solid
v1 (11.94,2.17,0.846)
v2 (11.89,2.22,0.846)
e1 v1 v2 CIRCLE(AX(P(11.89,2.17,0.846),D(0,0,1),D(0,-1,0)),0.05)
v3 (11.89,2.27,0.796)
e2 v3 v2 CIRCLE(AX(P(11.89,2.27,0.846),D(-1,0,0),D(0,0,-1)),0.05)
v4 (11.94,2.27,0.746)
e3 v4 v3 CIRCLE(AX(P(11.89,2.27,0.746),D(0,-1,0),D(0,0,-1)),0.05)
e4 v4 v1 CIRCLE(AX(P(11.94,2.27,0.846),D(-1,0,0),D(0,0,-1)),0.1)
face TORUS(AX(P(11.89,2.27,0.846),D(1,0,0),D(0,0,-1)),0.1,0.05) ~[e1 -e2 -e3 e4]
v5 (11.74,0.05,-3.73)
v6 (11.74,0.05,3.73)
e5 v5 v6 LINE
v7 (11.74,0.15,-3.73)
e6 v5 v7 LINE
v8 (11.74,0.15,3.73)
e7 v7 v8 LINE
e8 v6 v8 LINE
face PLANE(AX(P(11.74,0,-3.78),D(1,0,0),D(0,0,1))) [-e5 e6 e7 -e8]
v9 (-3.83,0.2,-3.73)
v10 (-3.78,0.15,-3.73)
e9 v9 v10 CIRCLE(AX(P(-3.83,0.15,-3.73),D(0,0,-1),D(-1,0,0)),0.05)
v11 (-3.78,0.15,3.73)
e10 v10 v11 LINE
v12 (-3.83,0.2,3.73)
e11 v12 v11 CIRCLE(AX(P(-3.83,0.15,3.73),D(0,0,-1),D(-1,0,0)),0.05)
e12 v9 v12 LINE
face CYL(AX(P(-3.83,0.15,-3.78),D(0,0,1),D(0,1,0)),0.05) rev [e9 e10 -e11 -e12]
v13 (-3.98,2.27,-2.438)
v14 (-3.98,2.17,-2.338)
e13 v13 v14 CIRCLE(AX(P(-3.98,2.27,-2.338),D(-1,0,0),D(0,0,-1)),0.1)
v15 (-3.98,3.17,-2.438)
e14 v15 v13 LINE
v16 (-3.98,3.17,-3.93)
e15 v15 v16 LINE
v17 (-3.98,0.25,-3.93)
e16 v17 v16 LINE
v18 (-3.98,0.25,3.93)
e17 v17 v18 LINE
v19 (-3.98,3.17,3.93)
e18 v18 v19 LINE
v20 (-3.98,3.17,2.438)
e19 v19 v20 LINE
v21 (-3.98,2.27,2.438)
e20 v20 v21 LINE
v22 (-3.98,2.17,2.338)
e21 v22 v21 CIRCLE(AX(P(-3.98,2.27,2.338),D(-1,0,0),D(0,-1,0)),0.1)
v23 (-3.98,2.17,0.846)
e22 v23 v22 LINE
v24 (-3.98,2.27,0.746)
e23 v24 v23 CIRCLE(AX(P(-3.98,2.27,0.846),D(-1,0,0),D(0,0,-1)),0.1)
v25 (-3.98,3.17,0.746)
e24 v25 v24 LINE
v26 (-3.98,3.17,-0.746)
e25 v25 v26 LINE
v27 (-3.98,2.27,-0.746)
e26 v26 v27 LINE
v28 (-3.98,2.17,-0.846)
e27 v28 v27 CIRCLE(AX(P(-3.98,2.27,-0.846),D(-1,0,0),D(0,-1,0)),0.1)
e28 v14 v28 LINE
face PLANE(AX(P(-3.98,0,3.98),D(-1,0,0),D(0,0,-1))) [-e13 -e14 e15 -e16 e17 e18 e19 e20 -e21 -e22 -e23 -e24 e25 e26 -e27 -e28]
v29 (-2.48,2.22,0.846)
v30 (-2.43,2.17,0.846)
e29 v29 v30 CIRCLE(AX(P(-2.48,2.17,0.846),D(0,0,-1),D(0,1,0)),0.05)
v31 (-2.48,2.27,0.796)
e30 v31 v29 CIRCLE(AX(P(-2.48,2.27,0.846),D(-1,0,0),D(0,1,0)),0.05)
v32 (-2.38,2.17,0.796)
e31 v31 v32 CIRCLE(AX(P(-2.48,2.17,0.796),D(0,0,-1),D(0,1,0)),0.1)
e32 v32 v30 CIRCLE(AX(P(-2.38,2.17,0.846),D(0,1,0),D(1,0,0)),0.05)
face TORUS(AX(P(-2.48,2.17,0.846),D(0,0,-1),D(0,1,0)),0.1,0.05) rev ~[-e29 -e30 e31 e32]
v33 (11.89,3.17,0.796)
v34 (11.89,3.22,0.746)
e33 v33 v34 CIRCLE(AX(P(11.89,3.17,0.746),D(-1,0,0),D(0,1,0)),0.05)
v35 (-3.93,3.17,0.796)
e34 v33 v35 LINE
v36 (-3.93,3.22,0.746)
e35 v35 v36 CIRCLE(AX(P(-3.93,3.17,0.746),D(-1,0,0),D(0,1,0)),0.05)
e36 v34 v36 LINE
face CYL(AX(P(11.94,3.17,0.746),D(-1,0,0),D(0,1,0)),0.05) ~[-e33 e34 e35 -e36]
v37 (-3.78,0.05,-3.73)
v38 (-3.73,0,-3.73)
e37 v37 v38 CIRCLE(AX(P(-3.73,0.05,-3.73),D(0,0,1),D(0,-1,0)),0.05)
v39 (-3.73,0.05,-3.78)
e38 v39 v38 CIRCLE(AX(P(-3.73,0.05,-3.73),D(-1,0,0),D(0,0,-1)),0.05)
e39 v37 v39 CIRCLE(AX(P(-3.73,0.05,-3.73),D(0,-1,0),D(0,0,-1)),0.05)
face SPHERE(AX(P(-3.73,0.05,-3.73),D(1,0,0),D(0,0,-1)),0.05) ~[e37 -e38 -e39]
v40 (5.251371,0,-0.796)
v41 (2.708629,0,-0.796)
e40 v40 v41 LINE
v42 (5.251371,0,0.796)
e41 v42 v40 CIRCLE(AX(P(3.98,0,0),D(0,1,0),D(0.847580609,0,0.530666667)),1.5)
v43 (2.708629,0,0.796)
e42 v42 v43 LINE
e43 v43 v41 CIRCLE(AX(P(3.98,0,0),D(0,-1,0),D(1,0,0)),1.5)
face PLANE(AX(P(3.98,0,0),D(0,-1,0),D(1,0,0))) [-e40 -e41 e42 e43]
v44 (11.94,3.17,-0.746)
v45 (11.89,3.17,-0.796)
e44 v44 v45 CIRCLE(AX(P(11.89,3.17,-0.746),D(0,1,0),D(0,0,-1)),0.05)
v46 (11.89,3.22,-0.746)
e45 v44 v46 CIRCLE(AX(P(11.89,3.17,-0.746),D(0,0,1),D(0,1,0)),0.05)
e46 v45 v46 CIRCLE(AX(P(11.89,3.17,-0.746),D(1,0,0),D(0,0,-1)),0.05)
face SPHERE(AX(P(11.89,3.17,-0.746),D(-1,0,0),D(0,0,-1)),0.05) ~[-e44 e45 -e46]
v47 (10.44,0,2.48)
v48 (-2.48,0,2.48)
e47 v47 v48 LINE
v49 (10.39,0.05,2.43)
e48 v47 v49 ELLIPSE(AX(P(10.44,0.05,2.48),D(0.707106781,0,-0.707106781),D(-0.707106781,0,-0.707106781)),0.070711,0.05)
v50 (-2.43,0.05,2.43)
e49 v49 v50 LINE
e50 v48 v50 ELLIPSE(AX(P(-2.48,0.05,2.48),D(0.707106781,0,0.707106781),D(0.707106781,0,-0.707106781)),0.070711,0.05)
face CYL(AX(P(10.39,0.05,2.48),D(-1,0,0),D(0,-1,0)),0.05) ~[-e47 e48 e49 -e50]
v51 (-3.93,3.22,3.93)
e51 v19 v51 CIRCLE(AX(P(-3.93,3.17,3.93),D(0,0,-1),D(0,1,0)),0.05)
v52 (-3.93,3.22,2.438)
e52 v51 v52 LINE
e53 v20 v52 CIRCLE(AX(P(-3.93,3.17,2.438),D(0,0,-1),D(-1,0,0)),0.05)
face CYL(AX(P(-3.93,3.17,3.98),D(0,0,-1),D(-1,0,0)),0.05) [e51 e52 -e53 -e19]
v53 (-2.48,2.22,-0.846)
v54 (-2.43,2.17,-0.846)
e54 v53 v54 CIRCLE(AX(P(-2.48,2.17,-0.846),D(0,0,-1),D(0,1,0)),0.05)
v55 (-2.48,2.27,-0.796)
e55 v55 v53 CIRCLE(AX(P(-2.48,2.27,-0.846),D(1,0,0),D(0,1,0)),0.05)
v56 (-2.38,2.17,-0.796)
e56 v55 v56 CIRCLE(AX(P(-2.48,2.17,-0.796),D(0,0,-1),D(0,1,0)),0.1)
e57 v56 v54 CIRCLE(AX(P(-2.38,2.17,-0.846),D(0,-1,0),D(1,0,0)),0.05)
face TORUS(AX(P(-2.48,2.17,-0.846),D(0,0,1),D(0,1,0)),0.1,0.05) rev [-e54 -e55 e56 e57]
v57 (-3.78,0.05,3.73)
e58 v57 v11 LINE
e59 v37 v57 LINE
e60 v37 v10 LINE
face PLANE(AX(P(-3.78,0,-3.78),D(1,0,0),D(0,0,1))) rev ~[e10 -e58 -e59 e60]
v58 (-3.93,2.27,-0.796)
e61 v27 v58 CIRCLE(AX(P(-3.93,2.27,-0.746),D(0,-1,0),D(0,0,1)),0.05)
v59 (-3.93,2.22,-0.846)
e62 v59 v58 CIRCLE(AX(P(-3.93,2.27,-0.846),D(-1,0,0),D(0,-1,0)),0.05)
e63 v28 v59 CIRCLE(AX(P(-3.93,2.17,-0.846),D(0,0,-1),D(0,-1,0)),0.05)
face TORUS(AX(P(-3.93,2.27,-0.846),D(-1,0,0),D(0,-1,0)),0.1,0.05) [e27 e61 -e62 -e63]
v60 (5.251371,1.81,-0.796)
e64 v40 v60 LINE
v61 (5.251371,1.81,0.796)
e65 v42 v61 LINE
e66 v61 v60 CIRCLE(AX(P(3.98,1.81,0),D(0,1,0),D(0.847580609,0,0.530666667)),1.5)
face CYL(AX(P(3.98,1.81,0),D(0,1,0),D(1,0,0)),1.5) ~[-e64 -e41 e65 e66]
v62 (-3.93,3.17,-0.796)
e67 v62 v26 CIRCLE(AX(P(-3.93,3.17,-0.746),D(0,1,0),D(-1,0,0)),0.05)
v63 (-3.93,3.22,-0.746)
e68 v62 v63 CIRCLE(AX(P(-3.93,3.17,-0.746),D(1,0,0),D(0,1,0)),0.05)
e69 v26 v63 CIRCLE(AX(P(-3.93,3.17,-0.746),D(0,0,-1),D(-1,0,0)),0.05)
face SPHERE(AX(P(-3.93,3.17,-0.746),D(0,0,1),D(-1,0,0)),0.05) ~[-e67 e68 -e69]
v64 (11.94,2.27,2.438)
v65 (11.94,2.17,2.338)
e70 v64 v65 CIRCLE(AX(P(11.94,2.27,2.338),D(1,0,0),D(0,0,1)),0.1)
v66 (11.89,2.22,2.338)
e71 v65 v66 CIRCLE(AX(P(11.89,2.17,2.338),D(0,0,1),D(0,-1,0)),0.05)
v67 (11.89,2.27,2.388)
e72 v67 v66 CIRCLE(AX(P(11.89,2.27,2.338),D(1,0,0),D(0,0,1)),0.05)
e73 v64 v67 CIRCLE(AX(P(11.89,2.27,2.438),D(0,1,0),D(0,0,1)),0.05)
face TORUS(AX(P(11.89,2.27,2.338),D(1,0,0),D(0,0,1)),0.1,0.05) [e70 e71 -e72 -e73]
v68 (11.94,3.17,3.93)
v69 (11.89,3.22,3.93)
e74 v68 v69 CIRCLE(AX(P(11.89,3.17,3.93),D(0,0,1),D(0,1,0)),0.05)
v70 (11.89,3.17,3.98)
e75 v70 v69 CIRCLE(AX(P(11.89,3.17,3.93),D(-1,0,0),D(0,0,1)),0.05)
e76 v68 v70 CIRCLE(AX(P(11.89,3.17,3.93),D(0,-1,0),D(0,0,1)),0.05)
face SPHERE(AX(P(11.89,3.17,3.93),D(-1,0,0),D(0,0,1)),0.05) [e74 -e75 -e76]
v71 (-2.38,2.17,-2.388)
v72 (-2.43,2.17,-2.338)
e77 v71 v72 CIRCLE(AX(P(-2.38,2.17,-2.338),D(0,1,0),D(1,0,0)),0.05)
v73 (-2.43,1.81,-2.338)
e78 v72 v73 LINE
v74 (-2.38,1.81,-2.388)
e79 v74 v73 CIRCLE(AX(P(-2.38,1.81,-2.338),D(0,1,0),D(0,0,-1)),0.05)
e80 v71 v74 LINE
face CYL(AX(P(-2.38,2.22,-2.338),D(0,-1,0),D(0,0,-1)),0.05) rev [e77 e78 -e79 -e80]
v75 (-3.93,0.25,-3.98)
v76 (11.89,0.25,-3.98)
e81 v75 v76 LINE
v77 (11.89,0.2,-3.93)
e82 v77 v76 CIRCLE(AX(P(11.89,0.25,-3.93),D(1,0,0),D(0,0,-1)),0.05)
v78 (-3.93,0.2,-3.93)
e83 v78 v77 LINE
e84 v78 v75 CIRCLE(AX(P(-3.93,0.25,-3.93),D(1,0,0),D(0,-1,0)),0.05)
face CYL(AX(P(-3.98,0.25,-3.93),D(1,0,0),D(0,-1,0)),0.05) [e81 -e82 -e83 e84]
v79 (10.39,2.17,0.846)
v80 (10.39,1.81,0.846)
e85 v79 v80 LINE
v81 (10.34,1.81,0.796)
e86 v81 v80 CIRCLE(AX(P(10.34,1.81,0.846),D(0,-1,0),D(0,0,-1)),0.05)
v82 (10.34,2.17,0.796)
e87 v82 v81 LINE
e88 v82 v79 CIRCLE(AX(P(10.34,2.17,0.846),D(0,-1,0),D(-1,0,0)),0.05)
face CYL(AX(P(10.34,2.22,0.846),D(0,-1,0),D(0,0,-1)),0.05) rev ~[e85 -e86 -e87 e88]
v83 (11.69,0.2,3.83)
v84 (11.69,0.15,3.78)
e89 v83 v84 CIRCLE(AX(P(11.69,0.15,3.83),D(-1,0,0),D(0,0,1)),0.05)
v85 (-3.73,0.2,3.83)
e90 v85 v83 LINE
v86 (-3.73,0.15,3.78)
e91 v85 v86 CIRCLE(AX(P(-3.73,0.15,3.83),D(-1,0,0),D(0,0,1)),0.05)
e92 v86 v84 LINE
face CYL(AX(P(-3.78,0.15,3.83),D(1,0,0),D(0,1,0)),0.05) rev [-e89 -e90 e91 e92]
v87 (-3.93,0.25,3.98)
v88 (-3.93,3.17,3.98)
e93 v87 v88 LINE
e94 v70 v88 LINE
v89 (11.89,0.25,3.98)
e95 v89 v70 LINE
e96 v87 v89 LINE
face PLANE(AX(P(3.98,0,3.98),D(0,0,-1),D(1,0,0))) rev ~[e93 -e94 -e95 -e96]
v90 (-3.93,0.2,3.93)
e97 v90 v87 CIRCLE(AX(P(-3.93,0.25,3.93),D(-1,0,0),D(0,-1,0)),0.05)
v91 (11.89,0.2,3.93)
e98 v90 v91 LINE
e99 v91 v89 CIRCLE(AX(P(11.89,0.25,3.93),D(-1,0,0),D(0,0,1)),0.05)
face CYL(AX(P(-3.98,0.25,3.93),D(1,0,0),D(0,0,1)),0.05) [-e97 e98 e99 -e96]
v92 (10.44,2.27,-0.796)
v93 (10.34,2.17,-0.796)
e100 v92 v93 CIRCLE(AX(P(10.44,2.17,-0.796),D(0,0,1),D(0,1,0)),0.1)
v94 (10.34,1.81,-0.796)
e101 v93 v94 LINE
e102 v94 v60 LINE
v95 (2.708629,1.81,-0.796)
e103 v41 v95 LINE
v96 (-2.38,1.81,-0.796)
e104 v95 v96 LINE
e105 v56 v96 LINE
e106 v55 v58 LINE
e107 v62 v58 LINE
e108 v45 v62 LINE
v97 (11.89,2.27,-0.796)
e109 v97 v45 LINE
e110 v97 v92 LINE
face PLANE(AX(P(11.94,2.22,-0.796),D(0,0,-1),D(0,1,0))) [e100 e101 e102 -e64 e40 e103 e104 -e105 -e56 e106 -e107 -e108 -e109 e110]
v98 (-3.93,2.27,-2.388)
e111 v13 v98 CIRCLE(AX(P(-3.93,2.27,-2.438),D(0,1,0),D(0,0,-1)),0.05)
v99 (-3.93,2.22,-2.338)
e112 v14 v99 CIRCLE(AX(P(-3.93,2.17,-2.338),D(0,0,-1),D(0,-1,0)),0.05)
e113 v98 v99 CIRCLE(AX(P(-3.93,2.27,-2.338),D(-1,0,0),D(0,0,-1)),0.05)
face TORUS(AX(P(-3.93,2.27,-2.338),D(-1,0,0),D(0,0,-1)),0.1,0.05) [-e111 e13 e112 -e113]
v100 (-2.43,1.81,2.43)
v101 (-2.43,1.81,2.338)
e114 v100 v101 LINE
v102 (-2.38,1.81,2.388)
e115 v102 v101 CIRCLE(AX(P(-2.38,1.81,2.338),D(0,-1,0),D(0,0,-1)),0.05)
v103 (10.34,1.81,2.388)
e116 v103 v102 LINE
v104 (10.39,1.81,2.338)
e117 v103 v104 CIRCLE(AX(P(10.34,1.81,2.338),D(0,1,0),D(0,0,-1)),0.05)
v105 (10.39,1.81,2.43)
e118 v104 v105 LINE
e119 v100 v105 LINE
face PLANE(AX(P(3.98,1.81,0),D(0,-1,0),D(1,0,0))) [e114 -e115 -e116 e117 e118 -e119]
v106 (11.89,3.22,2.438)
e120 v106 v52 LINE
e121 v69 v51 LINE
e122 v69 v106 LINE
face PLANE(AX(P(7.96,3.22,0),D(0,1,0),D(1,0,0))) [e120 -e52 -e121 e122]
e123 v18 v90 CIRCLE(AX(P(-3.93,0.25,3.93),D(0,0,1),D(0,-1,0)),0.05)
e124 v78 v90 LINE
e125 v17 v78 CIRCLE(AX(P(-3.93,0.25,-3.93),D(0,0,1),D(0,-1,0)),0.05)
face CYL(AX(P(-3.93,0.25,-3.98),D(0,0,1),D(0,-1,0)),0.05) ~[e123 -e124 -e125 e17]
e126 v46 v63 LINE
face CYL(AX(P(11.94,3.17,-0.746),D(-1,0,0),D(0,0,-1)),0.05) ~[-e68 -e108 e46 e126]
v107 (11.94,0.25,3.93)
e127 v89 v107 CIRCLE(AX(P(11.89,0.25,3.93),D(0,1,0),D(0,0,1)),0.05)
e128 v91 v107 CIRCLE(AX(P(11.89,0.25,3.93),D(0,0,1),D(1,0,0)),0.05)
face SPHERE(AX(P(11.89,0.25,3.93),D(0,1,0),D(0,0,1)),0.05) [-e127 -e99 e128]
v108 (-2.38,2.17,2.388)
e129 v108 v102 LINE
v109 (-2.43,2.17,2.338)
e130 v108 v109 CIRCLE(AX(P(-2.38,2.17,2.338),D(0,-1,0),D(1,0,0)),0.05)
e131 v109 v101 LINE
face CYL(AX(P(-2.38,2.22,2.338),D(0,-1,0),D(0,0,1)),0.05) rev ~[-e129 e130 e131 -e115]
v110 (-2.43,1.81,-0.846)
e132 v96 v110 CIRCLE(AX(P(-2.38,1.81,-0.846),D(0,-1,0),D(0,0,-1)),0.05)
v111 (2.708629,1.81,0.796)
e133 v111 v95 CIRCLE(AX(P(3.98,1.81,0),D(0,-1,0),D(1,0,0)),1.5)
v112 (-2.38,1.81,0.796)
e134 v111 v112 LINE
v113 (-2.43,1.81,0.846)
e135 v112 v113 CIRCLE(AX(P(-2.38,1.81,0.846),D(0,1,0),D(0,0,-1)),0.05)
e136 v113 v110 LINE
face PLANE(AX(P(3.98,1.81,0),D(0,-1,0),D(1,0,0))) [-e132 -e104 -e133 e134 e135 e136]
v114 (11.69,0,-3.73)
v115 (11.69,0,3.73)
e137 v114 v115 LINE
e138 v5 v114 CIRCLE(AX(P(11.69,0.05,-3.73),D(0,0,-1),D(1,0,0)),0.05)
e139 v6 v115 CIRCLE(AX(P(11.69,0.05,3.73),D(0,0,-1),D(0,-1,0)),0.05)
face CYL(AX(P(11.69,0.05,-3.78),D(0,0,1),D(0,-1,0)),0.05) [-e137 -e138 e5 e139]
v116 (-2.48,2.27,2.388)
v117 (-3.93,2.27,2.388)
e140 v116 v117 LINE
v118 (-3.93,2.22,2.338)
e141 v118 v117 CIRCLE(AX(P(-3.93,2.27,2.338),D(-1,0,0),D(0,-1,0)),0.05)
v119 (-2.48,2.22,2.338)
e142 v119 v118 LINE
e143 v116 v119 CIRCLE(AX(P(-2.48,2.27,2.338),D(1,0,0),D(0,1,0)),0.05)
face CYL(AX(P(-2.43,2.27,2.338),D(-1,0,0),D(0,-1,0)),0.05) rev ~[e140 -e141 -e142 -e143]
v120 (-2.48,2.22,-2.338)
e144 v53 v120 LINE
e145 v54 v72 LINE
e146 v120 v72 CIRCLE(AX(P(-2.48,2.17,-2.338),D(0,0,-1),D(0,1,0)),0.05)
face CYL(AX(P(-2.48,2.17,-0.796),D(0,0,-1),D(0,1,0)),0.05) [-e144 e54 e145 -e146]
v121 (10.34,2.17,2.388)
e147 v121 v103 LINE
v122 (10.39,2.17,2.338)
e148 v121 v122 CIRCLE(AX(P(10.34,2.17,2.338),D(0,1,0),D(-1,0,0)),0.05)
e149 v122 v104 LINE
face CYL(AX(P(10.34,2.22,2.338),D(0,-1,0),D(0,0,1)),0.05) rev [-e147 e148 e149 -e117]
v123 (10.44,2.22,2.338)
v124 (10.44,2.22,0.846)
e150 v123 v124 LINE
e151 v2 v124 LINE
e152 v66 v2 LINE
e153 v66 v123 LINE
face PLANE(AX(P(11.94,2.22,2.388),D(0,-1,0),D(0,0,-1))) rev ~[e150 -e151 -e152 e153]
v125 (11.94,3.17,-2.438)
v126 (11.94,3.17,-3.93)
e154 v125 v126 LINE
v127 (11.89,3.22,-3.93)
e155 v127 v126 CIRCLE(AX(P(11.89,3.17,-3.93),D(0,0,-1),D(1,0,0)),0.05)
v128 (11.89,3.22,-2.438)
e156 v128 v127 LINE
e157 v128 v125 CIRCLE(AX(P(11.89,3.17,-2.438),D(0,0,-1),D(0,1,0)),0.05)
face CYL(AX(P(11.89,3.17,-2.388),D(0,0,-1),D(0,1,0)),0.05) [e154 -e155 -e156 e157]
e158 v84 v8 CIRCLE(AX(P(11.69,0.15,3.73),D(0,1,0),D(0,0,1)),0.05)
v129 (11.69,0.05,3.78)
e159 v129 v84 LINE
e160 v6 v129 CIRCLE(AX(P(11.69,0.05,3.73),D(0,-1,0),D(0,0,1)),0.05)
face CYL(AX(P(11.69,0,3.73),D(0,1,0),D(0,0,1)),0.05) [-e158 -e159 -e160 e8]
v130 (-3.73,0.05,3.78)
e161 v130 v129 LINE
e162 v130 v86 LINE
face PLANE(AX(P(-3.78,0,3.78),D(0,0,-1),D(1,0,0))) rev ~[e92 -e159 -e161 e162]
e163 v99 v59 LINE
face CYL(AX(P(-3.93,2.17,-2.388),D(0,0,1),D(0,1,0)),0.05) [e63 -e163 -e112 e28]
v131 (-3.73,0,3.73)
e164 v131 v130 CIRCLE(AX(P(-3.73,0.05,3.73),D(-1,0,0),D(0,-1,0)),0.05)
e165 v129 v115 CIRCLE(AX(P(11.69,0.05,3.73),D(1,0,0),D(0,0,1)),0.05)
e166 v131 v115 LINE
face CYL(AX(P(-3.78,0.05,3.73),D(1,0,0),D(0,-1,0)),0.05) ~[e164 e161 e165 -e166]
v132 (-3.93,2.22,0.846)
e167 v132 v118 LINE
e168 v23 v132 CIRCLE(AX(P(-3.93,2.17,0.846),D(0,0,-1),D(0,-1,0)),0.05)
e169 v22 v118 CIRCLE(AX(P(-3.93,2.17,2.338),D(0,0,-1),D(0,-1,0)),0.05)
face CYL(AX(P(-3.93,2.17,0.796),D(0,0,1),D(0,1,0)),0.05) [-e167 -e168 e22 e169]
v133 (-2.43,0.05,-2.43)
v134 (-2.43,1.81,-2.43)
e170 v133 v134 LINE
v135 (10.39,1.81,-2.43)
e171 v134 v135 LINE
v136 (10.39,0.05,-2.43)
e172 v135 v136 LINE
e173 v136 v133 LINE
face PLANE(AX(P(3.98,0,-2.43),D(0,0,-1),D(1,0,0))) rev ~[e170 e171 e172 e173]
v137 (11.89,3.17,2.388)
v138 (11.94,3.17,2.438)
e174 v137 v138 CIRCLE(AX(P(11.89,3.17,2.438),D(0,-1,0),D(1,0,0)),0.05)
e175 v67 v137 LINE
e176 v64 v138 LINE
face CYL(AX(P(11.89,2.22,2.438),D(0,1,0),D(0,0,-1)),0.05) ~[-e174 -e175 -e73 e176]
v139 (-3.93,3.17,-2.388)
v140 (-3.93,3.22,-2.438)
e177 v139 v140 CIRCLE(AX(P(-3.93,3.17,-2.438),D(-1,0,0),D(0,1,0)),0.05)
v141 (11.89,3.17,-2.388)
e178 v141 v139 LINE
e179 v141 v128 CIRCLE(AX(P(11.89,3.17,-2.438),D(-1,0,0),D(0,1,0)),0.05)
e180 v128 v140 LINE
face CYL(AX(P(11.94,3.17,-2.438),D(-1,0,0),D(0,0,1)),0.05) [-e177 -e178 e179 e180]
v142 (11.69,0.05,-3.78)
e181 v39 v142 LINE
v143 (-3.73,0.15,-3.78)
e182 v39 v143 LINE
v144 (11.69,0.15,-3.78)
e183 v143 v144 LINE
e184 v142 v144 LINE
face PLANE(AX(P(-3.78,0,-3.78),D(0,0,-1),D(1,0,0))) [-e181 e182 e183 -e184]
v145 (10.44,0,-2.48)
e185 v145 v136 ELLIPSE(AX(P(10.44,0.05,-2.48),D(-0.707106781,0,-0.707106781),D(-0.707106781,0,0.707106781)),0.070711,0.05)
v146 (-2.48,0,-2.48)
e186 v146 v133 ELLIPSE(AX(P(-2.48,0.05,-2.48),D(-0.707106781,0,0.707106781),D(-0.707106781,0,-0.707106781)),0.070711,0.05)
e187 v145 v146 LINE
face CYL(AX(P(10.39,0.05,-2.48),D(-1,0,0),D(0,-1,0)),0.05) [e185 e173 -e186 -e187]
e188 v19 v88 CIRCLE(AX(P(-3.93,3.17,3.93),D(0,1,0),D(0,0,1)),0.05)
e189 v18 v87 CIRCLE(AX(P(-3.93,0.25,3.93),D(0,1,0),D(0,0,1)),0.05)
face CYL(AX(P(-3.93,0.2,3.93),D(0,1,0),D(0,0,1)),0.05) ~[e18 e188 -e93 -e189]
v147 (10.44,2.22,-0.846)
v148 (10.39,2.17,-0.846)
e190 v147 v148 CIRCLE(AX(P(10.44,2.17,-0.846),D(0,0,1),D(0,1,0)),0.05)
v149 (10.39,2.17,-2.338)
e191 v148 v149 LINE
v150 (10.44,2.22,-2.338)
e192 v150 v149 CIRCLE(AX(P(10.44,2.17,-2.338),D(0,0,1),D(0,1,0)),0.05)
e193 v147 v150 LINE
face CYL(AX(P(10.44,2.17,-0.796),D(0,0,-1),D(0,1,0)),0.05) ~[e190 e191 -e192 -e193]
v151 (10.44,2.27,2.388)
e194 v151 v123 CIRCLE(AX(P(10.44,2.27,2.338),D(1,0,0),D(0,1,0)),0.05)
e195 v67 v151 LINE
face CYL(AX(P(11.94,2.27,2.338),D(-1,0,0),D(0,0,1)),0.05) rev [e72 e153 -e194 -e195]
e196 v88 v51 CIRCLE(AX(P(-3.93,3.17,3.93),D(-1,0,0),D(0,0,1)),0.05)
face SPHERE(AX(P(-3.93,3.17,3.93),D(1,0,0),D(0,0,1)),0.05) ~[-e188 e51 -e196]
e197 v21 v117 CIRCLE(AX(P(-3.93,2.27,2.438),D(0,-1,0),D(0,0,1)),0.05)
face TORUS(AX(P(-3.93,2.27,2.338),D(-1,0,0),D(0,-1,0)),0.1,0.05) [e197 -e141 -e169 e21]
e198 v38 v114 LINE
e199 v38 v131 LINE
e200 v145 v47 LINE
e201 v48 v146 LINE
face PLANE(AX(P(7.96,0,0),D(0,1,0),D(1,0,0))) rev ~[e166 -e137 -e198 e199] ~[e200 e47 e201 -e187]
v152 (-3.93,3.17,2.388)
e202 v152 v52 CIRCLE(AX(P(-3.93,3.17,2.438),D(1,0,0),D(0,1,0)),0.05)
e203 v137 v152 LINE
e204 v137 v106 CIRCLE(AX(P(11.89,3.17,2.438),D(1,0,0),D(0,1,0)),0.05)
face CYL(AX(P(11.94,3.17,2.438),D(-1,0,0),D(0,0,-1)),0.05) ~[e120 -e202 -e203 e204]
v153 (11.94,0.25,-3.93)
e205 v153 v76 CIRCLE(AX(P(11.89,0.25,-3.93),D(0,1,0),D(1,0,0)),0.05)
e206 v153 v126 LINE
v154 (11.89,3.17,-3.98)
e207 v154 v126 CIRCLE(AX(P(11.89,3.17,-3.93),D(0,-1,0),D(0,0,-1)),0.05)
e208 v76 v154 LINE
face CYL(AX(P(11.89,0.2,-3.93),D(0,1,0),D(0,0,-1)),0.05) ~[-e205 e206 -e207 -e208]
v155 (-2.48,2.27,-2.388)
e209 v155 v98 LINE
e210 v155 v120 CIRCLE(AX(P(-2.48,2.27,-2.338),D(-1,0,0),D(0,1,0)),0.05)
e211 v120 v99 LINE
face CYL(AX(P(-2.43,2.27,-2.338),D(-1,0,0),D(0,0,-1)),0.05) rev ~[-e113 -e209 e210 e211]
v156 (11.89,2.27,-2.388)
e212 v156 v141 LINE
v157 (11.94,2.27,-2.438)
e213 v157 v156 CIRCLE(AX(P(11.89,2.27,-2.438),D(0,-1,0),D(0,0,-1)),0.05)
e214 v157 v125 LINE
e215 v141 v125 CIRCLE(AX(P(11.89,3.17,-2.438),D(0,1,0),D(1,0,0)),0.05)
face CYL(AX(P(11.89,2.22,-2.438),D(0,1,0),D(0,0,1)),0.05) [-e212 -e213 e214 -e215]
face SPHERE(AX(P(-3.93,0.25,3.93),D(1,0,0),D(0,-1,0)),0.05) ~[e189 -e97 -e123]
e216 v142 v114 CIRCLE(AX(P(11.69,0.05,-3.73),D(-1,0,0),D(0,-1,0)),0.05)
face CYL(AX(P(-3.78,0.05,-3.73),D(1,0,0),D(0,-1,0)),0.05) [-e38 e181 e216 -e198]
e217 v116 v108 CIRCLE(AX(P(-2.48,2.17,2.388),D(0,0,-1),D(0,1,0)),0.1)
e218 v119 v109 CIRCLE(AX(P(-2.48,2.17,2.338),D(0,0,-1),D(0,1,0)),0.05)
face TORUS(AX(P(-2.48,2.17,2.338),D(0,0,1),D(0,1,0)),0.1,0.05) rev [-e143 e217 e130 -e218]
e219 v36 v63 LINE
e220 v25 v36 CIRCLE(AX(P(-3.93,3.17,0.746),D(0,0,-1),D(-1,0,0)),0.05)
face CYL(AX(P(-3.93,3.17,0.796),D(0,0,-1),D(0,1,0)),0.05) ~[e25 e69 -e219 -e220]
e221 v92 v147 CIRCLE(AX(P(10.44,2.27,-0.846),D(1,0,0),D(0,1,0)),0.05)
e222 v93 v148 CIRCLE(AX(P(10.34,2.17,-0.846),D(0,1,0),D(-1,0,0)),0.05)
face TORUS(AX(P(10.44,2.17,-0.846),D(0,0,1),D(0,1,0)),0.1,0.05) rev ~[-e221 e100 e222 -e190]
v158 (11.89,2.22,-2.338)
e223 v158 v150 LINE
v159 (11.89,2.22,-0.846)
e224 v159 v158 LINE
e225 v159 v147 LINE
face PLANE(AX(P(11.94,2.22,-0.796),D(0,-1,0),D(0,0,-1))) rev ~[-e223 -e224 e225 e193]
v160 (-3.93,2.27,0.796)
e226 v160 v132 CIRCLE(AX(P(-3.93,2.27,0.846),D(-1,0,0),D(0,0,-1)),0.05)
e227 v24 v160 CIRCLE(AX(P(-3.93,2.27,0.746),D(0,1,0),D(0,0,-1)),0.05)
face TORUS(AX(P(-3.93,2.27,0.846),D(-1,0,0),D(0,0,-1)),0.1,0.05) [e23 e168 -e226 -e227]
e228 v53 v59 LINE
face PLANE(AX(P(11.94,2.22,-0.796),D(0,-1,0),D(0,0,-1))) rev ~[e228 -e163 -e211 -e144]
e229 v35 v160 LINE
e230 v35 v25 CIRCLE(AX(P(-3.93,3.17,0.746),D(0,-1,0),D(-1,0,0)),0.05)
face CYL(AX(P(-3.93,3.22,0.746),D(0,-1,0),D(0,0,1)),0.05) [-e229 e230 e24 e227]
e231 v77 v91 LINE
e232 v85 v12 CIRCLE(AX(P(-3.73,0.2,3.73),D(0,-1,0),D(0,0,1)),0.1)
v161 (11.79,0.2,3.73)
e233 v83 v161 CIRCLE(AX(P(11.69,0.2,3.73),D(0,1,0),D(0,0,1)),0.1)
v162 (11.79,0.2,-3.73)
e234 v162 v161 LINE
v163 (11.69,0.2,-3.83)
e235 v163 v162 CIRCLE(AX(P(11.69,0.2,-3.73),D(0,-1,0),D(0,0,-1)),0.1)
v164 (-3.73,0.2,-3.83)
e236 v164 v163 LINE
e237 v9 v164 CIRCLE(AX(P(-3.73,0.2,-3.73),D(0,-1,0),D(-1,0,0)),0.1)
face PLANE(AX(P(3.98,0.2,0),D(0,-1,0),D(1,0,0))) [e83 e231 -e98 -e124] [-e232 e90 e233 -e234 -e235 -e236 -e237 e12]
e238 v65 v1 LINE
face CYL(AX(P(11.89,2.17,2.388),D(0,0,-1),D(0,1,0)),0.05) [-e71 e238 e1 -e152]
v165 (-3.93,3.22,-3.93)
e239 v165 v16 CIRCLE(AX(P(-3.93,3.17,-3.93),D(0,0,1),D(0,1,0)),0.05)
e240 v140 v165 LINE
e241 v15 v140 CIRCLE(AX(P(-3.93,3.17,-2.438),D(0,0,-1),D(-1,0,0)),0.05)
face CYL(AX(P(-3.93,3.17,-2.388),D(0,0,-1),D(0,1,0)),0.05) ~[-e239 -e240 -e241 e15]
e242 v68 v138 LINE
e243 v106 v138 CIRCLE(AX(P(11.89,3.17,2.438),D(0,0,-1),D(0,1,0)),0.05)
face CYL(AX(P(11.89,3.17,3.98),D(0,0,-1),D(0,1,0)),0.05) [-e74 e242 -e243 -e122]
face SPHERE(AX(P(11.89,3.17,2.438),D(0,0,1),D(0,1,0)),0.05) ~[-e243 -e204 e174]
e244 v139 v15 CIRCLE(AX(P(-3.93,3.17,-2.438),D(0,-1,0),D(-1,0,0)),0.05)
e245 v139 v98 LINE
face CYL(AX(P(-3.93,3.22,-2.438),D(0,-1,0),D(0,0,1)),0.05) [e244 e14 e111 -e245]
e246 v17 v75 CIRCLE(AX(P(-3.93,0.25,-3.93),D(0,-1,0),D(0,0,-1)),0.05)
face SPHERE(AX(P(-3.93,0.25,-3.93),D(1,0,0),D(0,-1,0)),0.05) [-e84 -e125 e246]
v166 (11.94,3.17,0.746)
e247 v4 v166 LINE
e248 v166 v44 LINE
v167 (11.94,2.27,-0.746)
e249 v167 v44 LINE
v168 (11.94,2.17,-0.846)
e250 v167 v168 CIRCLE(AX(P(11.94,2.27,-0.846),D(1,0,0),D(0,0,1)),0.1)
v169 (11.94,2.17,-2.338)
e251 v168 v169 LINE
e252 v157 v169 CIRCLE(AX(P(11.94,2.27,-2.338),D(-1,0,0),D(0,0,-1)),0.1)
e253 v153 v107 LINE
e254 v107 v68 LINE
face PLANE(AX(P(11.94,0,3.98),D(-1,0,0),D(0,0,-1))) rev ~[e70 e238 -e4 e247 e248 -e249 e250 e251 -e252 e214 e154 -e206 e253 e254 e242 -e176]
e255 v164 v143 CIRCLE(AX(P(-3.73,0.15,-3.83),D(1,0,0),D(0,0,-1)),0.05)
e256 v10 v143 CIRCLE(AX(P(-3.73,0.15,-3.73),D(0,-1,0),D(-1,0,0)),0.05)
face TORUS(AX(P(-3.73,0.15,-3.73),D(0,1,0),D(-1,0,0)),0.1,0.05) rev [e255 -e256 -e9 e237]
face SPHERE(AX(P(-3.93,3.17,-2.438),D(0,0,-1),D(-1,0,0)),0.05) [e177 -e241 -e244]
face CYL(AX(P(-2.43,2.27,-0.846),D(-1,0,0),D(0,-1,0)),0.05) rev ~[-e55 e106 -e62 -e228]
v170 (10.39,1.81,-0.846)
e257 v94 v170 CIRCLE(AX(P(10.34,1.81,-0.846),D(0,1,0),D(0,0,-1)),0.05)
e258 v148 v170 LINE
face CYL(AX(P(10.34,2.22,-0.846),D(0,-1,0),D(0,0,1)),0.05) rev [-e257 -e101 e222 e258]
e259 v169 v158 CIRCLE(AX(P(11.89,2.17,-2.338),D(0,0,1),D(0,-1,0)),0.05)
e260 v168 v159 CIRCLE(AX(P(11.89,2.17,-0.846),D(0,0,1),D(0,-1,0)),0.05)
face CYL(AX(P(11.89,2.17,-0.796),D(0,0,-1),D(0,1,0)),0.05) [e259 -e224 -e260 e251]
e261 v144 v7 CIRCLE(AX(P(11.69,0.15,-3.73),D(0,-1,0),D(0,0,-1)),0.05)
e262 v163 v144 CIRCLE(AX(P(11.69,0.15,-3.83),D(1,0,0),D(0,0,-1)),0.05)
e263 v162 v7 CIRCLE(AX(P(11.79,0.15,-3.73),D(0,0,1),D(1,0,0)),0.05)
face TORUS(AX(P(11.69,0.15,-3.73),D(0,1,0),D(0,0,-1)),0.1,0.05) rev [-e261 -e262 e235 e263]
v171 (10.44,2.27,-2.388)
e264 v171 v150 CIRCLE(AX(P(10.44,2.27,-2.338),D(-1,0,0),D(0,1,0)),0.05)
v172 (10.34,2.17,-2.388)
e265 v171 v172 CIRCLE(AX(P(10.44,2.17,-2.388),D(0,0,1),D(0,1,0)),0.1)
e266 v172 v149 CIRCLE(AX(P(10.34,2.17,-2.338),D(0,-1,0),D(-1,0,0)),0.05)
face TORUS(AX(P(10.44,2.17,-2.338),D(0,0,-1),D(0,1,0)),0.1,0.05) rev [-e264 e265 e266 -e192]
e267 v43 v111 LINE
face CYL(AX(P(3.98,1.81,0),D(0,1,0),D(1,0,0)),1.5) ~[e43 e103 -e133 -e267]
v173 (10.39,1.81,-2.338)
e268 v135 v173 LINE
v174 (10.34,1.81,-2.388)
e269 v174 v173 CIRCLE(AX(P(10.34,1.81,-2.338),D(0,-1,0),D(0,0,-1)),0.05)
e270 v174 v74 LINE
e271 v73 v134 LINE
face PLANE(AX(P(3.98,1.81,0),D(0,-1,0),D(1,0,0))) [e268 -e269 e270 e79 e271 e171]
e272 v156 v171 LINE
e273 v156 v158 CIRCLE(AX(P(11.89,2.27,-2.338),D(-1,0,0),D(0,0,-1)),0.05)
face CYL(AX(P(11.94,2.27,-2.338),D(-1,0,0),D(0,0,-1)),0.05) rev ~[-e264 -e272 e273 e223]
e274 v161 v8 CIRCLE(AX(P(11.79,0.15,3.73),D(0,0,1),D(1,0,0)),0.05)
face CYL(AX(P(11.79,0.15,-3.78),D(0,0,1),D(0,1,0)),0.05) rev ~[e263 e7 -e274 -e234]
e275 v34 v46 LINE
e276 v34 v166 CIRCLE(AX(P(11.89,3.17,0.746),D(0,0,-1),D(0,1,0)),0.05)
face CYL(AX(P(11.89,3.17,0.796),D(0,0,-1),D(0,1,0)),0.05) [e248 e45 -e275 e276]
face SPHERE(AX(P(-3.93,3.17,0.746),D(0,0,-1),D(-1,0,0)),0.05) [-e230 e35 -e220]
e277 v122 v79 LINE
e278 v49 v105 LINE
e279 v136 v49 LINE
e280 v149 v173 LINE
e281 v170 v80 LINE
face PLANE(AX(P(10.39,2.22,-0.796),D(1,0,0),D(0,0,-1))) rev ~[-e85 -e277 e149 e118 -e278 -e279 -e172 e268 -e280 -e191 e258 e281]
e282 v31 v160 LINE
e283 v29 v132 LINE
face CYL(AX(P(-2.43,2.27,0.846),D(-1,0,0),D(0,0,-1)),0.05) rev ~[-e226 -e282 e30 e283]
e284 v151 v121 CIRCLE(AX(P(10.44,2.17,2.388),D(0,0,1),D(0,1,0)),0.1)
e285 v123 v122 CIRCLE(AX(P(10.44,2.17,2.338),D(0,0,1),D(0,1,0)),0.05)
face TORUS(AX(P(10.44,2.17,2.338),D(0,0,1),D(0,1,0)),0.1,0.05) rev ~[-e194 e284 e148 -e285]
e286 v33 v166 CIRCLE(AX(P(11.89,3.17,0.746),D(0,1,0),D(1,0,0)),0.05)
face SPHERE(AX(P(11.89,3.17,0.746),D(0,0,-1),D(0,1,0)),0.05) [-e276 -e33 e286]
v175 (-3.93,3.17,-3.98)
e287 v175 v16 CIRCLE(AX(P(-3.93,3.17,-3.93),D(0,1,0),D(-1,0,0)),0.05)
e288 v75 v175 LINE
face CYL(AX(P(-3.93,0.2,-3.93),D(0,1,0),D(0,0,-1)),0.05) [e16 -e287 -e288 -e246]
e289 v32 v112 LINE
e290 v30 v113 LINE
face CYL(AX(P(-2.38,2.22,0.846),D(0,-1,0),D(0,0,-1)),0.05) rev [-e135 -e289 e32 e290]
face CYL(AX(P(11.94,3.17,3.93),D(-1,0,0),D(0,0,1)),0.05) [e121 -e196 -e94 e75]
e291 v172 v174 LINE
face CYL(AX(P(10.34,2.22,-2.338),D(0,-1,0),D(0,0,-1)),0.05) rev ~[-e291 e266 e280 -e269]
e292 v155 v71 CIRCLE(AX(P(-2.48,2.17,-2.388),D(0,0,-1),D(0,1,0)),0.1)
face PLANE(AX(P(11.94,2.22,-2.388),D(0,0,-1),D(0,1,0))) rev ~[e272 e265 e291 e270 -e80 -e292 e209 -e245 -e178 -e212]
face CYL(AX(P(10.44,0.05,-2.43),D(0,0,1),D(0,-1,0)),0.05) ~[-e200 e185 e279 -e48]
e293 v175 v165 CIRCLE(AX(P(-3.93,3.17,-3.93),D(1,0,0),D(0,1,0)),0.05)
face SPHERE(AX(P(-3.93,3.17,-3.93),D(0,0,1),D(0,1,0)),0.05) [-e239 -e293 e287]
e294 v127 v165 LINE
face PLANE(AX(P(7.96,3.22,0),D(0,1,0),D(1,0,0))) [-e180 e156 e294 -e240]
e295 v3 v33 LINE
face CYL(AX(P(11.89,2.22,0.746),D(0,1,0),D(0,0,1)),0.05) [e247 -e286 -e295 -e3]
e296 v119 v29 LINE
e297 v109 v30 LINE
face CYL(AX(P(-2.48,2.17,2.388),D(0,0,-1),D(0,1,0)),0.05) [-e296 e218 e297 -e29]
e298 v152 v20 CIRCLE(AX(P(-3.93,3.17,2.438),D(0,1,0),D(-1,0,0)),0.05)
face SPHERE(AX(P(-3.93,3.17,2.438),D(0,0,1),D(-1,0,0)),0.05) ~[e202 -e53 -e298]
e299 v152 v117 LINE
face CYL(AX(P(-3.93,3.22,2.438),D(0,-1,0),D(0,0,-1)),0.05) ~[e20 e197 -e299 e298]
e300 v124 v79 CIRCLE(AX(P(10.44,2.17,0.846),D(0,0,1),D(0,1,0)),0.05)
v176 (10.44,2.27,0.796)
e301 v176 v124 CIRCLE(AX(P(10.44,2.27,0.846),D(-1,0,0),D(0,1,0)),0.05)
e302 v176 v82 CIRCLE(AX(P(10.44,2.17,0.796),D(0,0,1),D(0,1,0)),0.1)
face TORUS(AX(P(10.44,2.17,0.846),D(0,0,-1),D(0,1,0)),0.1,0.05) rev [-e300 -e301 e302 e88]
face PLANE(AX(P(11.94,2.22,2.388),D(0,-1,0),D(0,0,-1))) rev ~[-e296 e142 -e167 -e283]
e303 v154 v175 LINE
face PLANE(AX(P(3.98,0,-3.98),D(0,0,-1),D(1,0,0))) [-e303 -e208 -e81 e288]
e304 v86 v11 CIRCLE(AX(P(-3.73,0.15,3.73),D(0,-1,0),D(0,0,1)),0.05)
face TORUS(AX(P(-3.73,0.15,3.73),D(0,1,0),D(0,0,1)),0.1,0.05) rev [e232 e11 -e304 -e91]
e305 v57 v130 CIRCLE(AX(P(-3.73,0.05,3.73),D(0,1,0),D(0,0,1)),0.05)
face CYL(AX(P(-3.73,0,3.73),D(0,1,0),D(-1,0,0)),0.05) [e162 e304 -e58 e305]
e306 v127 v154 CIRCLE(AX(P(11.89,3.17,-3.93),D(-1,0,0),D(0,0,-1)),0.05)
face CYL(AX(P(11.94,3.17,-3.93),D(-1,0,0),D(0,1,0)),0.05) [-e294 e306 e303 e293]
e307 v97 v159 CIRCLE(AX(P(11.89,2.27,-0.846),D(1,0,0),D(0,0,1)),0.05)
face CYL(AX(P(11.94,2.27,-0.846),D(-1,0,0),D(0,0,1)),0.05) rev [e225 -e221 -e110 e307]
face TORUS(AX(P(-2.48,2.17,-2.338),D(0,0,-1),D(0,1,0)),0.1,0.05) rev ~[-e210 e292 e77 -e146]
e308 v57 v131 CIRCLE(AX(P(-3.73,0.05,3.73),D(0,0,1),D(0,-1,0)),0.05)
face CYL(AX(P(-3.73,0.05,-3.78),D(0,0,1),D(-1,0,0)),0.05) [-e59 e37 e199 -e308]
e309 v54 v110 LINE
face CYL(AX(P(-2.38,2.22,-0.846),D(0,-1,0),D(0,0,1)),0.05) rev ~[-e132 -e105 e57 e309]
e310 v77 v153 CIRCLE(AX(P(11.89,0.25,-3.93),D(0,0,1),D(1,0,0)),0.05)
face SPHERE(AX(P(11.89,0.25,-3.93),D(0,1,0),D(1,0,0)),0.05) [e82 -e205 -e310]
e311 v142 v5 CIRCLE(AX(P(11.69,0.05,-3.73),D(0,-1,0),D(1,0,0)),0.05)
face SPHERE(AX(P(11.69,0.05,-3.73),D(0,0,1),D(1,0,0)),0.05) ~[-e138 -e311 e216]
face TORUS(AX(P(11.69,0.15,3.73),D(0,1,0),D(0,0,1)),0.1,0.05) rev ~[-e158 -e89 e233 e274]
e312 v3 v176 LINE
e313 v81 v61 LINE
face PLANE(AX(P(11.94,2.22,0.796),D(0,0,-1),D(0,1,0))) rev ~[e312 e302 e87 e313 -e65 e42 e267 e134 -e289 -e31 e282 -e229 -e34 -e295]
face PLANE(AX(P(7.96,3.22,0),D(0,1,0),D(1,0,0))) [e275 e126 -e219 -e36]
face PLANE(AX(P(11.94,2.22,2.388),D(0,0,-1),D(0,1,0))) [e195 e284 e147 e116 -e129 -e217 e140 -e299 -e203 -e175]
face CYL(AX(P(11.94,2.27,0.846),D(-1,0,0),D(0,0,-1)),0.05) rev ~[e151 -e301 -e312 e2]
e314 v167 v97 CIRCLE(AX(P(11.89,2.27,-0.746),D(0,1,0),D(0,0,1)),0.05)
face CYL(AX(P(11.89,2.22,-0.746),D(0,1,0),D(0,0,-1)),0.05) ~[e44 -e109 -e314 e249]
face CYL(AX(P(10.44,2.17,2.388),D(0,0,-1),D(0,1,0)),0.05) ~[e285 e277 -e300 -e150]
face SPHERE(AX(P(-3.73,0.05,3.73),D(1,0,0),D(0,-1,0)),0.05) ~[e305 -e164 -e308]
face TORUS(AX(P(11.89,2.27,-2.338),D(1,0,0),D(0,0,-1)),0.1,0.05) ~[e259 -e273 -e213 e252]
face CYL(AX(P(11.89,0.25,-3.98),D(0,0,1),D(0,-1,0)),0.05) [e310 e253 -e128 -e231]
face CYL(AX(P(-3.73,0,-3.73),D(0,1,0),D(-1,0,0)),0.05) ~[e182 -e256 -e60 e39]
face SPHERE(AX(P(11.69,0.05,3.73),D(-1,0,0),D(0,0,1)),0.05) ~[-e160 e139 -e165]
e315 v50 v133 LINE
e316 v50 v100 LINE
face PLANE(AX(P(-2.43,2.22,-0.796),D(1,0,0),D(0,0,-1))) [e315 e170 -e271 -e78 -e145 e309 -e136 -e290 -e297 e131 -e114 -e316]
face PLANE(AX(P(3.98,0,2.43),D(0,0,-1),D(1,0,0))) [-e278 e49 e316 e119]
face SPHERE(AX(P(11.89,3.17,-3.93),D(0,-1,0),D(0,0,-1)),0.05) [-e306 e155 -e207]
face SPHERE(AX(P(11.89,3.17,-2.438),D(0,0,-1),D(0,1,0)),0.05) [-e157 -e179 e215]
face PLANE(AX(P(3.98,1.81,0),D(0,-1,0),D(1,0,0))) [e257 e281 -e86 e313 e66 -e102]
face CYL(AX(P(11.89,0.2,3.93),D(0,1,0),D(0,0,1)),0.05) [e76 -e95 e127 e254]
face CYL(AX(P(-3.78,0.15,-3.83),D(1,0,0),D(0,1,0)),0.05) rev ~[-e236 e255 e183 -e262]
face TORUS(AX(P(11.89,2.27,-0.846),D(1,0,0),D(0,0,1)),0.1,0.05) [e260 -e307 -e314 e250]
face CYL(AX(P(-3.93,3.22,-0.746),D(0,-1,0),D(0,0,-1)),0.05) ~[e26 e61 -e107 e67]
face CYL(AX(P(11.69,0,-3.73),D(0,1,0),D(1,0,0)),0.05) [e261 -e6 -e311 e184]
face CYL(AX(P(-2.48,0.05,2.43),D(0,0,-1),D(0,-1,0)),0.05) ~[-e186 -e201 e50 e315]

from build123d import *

# Parameters (mm, degrees)
SKETCH1_W       = 7.96
SKETCH1_H       = 7.96
EXTRUDE1_DEPTH  = 3.22
LPATTERN1_COUNT = 2
LPATTERN1_PITCH = 7.96
SHELL1_T        = -1.55
SKETCH4_W       = 12.82
SKETCH4_H       = 4.86
EXTRUDE3_DEPTH  = 0.14
SKETCH7_W       = 15.92
SKETCH7_H       = 7.96
SKETCH7_W_2     = 15.52
SKETCH7_H_2     = 7.56
EXTRUDE6_DEPTH  = 0.2
SKETCH5_R       = 1.5
EXTRUDE7_DEPTH  = 1.81
SKETCH8_W       = 1.592
SKETCH8_H       = 1
EXTRUDE8_DEPTH  = 16.92
SKETCH10_W      = 12.82
SKETCH10_H      = 1.592
EXTRUDE9_DEPTH  = 3.22
FILLET3_R       = 0.05


with BuildPart() as part:
    # Sketch1 → Extrude1 (new body)
    with BuildSketch(Plane(origin=(0, 0, 0), x_dir=(1, 0, 0), z_dir=(0, 1, 0))):
        Rectangle(SKETCH1_W, SKETCH1_H)
    extrude1 = extrude(amount=EXTRUDE1_DEPTH)

    # LPattern1: Extrude1 ×2
    with Locations(*[(i * LPATTERN1_PITCH, 0, 0) for i in range(1, LPATTERN1_COUNT)]):
        add(extrude1)

    # Shell1
    shell1_openings = [part.faces().sort_by_distance(p)[0] for p in [
        (3.98, 0, 0),
    ]]
    offset(amount=SHELL1_T, openings=shell1_openings, kind=Kind.INTERSECTION)

    # Sketch4 → Extrude3 (cut)
    with BuildSketch(Plane.XZ.offset(-1.67)):
        with Locations((3.98, 0)):
            Rectangle(SKETCH4_W, SKETCH4_H)
    extrude(amount=-EXTRUDE3_DEPTH, mode=Mode.SUBTRACT)

    # Sketch7 → Extrude6 (cut)
    with BuildSketch(Plane.XZ):
        with Locations((3.98, 0)):
            Rectangle(SKETCH7_W, SKETCH7_H)
        with Locations((3.98, 0)):
            Rectangle(SKETCH7_W_2, SKETCH7_H_2, mode=Mode.SUBTRACT)
    extrude(amount=-EXTRUDE6_DEPTH, mode=Mode.SUBTRACT)

    # Sketch5 → Extrude7 (add)
    with BuildSketch(Plane.XZ.offset(-1.81)):
        with Locations((3.98, 0)):
            Circle(SKETCH5_R)
    extrude(amount=EXTRUDE7_DEPTH)

    # Sketch8 → Extrude8 (cut, through all)
    with BuildSketch(Plane(origin=(11.94, 0, 0), x_dir=(0, 0, -1), z_dir=(1, 0, 0))):
        with Locations((1.592, 2.72)):
            Rectangle(SKETCH8_W, SKETCH8_H)
        with Locations((-1.592, 2.72)):
            Rectangle(SKETCH8_W, SKETCH8_H)
    extrude(amount=-EXTRUDE8_DEPTH, mode=Mode.SUBTRACT)

    # Sketch10 → Extrude9 (cut, through all)
    with BuildSketch(Plane(origin=(0, 2.22, 0), x_dir=(1, 0, 0), z_dir=(0, 1, 0))):
        with Locations((3.98, 1.592)):
            Rectangle(SKETCH10_W, SKETCH10_H)
        with Locations((3.98, -1.592)):
            Rectangle(SKETCH10_W, SKETCH10_H)
    extrude(amount=-EXTRUDE9_DEPTH, mode=Mode.SUBTRACT)

    # Fillet3
    fillet3_edges = [part.edges().sort_by_distance(p)[0] for p in [
        (-3.98, 3.22, -3.184),
        (11.165, 2.22, -0.796),
        (11.165, 2.22, -2.388),
        (-2.43, 2.015, -0.796),
        (-2.43, 2.015, -2.388),
        (10.39, 2.015, -2.388),
        (10.39, 2.015, -0.796),
        (-2.43, 2.22, -1.592),
        (10.39, 2.22, -1.592),
        (3.98, 3.22, 3.98),
        (11.165, 2.22, 2.388),
        (11.165, 2.22, 0.796),
        (11.94, 1.71, 3.98),
        (11.94, 1.71, -3.98),
        (-2.43, 2.015, 2.388),
        (-2.43, 2.015, 0.796),
        (10.39, 2.015, 0.796),
        (10.39, 2.015, 2.388),
        (-2.43, 2.22, 1.592),
        (10.39, 2.22, 1.592),
        (11.94, 3.22, 3.184),
        (3.98, 0, -2.43),
        (-2.43, 0, 0),
        (3.98, 0, 2.43),
        (10.39, 0, 0),
        (3.98, 0.2, 3.98),
        (11.94, 0.2, 0),
        (3.98, 0.2, -3.98),
        (-3.98, 0.2, 0),
        (3.98, 0.2, 3.78),
        (-3.78, 0.2, 0),
        (3.98, 0.2, -3.78),
        (11.74, 0.2, 0),
        (3.98, 0, 3.78),
        (11.74, 0.1, 3.78),
        (11.74, 0, 0),
        (11.74, 0.1, -3.78),
        (3.98, 0, -3.78),
        (-3.78, 0.1, -3.78),
        (-3.78, 0, 0),
        (-3.78, 0.1, 3.78),
        (3.98, 3.22, -3.98),
        (-3.98, 1.71, 3.98),
        (-3.98, 1.71, -3.98),
        (-3.98, 3.22, 0),
        (11.94, 3.22, -3.184),
        (-3.98, 2.72, -2.388),
        (3.98, 3.22, -2.388),
        (-3.98, 2.22, -1.592),
        (-3.205, 2.22, -2.388),
        (-3.98, 2.72, -0.796),
        (-3.205, 2.22, -0.796),
        (3.98, 3.22, -0.796),
        (11.94, 2.72, -2.388),
        (11.94, 2.72, -0.796),
        (11.94, 2.22, -1.592),
        (-3.98, 3.22, 3.184),
        (11.94, 3.22, 0),
        (-3.98, 2.72, 0.796),
        (3.98, 3.22, 0.796),
        (-3.98, 2.22, 1.592),
        (-3.205, 2.22, 0.796),
        (-3.98, 2.72, 2.388),
        (-3.205, 2.22, 2.388),
        (3.98, 3.22, 2.388),
        (11.94, 2.72, 0.796),
        (11.94, 2.72, 2.388),
        (11.94, 2.22, 1.592),
    ]]
    fillet(fillet3_edges, radius=FILLET3_R)


solid = part.part
